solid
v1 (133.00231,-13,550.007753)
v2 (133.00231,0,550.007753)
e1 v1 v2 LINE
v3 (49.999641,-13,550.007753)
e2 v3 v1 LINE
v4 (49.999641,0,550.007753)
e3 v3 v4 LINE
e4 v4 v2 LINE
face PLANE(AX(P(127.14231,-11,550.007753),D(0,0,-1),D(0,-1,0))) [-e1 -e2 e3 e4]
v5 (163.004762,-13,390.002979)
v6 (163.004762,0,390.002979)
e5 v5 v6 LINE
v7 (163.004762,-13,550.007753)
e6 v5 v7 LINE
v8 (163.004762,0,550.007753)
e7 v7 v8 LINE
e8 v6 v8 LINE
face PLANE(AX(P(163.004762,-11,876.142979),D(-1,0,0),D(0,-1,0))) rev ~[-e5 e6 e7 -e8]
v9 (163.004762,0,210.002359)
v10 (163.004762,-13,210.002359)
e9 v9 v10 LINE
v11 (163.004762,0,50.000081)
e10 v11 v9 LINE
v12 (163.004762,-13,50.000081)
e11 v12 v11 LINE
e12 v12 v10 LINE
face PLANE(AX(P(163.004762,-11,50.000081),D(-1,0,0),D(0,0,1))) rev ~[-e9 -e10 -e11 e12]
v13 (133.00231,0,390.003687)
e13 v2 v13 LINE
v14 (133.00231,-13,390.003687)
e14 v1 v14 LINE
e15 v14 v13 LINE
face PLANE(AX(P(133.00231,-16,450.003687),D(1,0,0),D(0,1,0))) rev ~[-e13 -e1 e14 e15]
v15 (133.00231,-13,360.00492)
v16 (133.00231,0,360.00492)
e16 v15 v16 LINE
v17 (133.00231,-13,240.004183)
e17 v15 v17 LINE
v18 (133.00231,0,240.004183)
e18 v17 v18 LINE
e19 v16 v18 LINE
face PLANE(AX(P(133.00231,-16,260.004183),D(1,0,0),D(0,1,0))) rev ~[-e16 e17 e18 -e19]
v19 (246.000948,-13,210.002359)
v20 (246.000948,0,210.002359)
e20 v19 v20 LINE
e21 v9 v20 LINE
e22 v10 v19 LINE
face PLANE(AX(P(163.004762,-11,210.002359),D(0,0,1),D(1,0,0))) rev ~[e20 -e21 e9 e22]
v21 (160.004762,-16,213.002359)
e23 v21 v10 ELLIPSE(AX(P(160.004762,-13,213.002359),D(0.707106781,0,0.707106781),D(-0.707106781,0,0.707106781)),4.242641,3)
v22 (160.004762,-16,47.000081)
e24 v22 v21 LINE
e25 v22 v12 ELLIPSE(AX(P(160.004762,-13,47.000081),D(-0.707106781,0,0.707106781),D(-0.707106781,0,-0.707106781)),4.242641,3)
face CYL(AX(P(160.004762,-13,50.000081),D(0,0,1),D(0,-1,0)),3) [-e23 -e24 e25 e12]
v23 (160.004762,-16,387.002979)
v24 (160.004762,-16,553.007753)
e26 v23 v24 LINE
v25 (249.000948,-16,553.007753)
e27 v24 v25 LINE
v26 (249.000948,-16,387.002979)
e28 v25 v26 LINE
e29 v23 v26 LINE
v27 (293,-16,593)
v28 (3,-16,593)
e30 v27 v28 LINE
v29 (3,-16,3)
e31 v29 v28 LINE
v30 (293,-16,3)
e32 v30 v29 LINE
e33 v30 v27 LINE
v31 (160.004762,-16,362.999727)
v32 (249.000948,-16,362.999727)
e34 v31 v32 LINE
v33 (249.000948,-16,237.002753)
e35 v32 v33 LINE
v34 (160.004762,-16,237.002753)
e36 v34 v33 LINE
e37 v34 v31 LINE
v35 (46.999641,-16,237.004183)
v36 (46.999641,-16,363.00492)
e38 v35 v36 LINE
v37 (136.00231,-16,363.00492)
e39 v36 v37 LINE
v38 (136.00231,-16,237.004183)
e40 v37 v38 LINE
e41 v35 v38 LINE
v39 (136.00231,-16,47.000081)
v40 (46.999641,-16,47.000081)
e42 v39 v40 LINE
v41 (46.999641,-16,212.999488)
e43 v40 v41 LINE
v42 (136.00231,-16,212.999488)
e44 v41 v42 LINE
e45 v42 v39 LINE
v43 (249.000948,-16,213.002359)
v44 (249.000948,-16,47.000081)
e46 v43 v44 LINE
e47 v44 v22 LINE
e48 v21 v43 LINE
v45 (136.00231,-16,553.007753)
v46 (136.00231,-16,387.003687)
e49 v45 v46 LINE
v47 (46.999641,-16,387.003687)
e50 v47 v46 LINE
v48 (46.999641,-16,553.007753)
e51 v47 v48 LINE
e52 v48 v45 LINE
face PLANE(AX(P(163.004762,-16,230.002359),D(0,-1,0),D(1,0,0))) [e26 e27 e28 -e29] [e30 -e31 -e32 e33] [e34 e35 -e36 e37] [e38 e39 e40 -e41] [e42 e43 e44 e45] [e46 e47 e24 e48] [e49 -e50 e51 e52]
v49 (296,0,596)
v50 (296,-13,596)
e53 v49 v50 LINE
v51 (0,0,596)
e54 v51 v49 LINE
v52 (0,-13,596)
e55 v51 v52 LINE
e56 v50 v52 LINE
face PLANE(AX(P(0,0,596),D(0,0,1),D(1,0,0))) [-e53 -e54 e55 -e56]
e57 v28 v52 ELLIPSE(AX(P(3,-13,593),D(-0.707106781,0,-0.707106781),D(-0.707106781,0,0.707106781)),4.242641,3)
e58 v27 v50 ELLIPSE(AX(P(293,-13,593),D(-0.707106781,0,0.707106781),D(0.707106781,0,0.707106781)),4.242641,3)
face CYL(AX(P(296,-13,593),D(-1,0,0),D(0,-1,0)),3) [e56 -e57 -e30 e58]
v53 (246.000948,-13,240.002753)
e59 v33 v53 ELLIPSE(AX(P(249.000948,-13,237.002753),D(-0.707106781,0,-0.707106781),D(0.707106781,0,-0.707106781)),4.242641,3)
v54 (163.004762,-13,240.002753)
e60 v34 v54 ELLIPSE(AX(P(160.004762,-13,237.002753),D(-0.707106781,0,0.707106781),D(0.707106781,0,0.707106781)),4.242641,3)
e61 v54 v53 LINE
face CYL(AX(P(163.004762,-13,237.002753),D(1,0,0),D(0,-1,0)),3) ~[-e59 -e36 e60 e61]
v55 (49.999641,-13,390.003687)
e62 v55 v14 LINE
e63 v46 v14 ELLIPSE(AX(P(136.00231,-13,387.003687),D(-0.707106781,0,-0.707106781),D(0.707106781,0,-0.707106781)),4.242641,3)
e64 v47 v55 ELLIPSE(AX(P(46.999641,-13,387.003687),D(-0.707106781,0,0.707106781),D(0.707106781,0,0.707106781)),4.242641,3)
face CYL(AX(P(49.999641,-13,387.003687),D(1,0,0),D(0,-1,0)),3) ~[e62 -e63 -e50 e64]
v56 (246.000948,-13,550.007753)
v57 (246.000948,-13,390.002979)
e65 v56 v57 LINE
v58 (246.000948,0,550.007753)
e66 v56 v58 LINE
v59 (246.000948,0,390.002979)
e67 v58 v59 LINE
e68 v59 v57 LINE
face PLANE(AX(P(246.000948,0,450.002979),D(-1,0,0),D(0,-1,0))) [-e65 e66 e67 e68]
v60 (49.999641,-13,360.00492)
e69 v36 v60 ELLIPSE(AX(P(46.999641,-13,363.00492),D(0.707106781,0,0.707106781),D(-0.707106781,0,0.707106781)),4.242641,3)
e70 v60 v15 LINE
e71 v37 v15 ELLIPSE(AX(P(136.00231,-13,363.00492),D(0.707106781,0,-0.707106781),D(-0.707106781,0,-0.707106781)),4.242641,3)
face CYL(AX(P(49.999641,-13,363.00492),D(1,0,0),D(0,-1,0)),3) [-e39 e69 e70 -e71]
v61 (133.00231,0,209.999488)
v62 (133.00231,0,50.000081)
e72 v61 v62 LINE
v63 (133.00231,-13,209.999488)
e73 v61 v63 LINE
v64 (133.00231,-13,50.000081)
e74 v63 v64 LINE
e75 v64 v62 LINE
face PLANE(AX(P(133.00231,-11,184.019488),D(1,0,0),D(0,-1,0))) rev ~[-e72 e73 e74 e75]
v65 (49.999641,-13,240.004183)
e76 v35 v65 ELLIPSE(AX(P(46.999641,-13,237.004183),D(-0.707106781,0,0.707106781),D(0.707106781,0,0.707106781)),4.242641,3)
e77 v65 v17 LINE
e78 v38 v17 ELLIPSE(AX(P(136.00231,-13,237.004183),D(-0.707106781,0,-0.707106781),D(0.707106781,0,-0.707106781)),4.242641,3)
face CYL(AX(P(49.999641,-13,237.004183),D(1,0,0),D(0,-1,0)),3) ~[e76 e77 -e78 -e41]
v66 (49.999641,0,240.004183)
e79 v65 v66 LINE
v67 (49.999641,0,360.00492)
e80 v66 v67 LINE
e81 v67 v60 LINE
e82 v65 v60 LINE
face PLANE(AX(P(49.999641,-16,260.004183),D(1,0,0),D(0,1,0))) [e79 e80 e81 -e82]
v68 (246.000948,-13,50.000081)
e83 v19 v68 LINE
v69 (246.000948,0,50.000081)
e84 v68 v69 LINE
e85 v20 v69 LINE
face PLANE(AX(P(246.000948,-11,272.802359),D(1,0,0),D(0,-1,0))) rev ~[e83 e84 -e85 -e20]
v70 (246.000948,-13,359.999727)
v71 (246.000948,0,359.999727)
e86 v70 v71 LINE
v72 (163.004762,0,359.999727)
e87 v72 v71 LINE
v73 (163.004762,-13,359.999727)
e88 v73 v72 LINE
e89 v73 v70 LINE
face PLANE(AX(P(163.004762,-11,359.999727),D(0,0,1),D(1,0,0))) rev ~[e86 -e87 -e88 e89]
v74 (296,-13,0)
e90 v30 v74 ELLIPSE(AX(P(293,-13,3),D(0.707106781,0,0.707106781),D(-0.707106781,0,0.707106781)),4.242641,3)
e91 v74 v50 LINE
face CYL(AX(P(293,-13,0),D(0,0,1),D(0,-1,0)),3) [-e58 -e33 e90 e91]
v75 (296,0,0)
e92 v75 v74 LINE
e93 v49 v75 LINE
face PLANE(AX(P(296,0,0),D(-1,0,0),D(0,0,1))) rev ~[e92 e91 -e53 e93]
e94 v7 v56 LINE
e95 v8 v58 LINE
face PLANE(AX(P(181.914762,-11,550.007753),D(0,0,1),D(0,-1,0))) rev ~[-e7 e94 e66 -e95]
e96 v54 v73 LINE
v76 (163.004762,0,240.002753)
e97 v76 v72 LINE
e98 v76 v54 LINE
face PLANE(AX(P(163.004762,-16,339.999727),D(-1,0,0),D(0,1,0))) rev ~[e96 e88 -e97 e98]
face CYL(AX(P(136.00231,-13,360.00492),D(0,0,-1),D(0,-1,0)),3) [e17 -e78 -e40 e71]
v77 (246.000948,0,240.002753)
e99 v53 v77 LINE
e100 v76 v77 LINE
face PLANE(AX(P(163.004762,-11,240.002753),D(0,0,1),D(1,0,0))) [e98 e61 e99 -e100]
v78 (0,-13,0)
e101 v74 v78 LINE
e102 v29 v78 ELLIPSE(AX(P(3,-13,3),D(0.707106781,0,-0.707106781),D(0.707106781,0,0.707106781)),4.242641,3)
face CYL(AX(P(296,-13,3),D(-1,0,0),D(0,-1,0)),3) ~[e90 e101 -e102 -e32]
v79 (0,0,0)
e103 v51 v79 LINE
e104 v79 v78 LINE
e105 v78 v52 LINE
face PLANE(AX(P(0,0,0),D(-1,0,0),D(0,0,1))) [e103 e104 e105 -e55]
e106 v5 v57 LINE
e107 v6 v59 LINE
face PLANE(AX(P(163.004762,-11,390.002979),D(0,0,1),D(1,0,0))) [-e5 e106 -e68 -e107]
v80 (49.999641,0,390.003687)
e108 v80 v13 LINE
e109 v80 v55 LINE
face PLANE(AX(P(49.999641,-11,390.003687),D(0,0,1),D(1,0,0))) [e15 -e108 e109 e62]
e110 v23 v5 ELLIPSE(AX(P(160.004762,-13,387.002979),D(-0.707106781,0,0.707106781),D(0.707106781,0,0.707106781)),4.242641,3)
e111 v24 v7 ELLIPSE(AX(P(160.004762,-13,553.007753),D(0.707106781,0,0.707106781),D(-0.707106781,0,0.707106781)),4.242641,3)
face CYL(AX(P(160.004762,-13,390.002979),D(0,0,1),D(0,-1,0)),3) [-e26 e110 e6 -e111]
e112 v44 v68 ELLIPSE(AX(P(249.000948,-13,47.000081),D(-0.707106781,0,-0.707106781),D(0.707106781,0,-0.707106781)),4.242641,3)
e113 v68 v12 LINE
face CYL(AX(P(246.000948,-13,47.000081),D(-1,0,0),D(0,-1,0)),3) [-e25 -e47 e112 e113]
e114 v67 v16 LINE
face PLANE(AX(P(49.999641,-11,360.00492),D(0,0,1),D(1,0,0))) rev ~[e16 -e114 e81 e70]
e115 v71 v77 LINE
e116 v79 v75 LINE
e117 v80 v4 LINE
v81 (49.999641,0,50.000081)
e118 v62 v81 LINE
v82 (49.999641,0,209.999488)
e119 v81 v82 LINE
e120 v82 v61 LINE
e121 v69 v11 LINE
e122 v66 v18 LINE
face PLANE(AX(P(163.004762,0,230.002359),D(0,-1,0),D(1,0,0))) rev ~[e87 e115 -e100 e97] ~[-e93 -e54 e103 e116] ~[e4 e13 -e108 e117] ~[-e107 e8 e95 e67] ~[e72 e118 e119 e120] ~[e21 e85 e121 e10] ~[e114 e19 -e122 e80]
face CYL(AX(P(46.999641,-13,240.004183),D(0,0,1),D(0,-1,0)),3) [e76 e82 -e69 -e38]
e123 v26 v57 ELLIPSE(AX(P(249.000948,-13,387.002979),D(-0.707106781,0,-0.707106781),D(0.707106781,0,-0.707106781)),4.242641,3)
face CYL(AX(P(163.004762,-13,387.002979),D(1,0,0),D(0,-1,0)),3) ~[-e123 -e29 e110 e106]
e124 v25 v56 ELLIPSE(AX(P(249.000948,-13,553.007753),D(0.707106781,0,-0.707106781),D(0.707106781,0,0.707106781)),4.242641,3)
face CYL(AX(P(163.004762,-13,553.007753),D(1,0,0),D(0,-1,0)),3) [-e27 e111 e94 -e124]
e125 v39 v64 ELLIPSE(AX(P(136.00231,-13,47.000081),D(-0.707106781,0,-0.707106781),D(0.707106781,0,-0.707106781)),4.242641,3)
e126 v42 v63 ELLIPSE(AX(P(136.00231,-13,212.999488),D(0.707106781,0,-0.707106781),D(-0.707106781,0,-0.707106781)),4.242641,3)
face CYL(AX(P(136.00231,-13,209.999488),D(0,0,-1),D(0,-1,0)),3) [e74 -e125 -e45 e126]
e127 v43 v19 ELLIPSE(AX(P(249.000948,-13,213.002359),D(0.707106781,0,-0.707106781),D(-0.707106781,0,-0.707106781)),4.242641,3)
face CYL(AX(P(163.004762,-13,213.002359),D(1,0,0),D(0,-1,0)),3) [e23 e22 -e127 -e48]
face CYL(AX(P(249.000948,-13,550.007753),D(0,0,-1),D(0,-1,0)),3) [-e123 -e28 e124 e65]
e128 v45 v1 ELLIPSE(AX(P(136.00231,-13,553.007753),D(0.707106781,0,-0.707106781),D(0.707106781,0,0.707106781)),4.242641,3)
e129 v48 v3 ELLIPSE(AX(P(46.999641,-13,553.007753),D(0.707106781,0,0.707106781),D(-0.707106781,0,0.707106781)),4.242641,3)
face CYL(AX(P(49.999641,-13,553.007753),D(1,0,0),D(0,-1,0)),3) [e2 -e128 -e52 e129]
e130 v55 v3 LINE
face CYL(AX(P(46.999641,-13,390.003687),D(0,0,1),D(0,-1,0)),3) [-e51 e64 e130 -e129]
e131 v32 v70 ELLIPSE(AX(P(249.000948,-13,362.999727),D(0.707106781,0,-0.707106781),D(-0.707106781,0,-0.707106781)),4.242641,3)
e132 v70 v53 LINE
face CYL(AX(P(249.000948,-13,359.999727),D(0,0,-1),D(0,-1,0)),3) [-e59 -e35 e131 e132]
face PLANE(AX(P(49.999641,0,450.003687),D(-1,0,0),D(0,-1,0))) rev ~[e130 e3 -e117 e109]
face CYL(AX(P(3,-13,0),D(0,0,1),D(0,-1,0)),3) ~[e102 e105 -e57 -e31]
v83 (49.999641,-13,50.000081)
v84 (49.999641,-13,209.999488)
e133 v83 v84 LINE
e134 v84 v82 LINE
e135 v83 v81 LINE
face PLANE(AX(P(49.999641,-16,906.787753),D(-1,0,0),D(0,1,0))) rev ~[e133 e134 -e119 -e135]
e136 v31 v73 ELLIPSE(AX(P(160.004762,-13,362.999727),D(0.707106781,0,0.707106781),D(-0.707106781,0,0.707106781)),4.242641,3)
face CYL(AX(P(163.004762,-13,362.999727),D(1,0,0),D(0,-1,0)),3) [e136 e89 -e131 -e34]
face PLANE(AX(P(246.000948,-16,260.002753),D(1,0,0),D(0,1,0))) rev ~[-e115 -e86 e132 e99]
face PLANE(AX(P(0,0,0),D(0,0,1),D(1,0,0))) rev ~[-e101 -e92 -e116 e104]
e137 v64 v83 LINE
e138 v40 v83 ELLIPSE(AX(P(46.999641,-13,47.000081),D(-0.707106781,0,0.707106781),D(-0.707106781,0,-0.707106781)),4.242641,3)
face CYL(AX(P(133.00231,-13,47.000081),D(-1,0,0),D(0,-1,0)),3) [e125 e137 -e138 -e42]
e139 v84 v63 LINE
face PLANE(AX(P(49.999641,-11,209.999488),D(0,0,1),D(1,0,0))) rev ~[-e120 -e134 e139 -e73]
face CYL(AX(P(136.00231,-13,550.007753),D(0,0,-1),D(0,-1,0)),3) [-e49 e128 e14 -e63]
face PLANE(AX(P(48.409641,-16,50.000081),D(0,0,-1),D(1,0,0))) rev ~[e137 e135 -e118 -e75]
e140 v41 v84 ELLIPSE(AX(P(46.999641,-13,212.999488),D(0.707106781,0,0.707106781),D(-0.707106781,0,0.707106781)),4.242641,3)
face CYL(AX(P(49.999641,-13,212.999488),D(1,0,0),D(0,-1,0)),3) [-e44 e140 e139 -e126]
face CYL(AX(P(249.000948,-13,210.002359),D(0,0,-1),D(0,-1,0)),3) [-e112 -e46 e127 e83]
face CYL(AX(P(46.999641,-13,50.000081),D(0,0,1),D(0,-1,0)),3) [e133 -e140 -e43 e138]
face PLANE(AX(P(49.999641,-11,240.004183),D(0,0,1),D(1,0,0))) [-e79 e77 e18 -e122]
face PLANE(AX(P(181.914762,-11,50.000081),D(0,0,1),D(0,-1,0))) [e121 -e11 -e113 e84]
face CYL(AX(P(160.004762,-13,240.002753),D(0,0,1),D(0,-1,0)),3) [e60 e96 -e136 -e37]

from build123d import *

# Parameters (mm, degrees)
F0_W      = 28.8499742746
F0_H      = 37.8827601671
F1_DEPTH  = 16
F2_DEPTH  = 296
F3_DEPTH  = 996
F4_W      = 199.8313069344
F4_H      = 801.1276721954
F5_DEPTH  = 5
F6_DEPTH  = 39.21
F7_DEPTH  = 2.24
F8_DEPTH  = 55.66
F9_DEPTH  = 1.59
F10_W     = 54.77245152
F10_H     = 895.9976721954
F11_DEPTH = 5
F12_DEPTH = 5.86
F13_DEPTH = 18.91
F14_W     = 83.0026693535
F14_H     = 34.9487662315
F14_H_2   = 55.274695158
F15_W     = 82.9961860609
F15_H     = 44.8832511902
F15_H_2   = 52.5203943253
F16_DEPTH = 5
F17_DEPTH = 300
F18_DEPTH = 300
F19_DEPTH = 324.79
F20_DEPTH = 324.79
F21_DEPTH = 250
F22_DEPTH = 250
F23_DEPTH = 100
F24_DEPTH = 100
F25_DEPTH = 50
F26_DEPTH = 50
F27_DEPTH = 134.02
F28_DEPTH = 100
F29_DEPTH = 100
F30_DEPTH = 100
F31_DEPTH = 50
F32_DEPTH = 54.95
F33_DEPTH = 50
F34_DEPTH = 109.29
F35_DEPTH = 14.88
F36_DEPTH = 230.15
F37_DEPTH = 230.15
F38_DEPTH = 22.52
F39_DEPTH = 77.2
F40_DEPTH = 77.2
F41_DEPTH = 11
F42_DEPTH = 100
F43_DEPTH = 100
F44_DEPTH = 195.99
F45_DEPTH = 195.99
F46_DEPTH = 295.99
F47_DEPTH = 295.99
F48_DEPTH = 100
F49_DEPTH = 104.01
F50_DEPTH = 20
F51_DEPTH = 20
F52_DEPTH = 20
F53_DEPTH = 80
F54_DEPTH = 80
F55_DEPTH = 20
F56_DEPTH = 20
F57_DEPTH = 20
F58_DEPTH = 20
F59_R     = 3


with BuildPart() as f1:
    # F0 (on Front) → F1 (new body)
    with BuildSketch(Plane.XZ):
        with Locations((14.4249871373, 18.9413800836)):
            Rectangle(F0_W, F0_H)
    extrude(amount=F1_DEPTH)

    # F2 (add): a face of the model
    f2_faces = [f1.faces().sort_by_distance(p)[0] for p in [
        (0, -8, 18.9413800836),
    ]]
    extrude(f2_faces, amount=-F2_DEPTH)

    # F3 (add): a face of the model
    f3_faces = [f1.faces().sort_by_distance(p)[0] for p in [
        (148, -8, 0),
    ]]
    extrude(f3_faces, amount=-F3_DEPTH)

    # F4 (on face) → F5 (cut)
    with BuildSketch(Plane.XZ.offset(16)):
        with Locations((148.3252942562, 506.2239170074)):
            Rectangle(F4_W, F4_H)
    extrude(amount=-F5_DEPTH, mode=Mode.SUBTRACT)

    # F6 (cut): a face of the model
    f6_faces = [f1.faces().sort_by_distance(p)[0] for p in [
        (148.3252942562, -13.5, 906.7877531052),
    ]]
    extrude(f6_faces, amount=-F6_DEPTH, mode=Mode.SUBTRACT)

    # F7 (add): a face of the model
    f7_faces = [f1.faces().sort_by_distance(p)[0] for p in [
        (248.2409477234, -13.5, 525.8289170074),
    ]]
    extrude(f7_faces, amount=F7_DEPTH)

    # F8 (cut): a face of the model
    f8_faces = [f1.faces().sort_by_distance(p)[0] for p in [
        (147.2052942562, -13.5, 105.6600809097),
    ]]
    extrude(f8_faces, amount=-F8_DEPTH, mode=Mode.SUBTRACT)

    # F9 (add): a face of the model
    f9_faces = [f1.faces().sort_by_distance(p)[0] for p in [
        (48.409640789, -13.5, 497.9989170074),
    ]]
    extrude(f9_faces, amount=F9_DEPTH)

    # F10 (on face) → F11 (join)
    with BuildSketch(Plane.XZ.offset(11)):
        with Locations((154.5285359025, 497.9989170074)):
            Rectangle(F10_W, F10_H)
    extrude(amount=F11_DEPTH)

    # F12 (cut): a face of the model
    f12_faces = [f1.faces().sort_by_distance(p)[0] for p in [
        (127.1423101425, -13.5, 497.9989170074),
    ]]
    extrude(f12_faces, amount=-F12_DEPTH, mode=Mode.SUBTRACT)

    # F13 (cut): a face of the model
    f13_faces = [f1.faces().sort_by_distance(p)[0] for p in [
        (181.9147616625, -13.5, 497.9989170074),
    ]]
    extrude(f13_faces, amount=-F13_DEPTH, mode=Mode.SUBTRACT)

    # F14 (on face) + F15 (on face) → F16 (join)
    with BuildSketch(Plane.XZ.offset(11)):
        with Locations((91.5009754658, 853.3093035221)):
            Rectangle(F14_W, F14_H)
        with Locations((91.5009754658, 511.6568356752)):
            Rectangle(F14_W, F14_H_2)
    with BuildSketch(Plane.XZ.offset(11)):
        with Locations((204.5028546929, 853.7013530731)):
            Rectangle(F15_W, F15_H)
        with Locations((204.5028546929, 576.5425562859)):
            Rectangle(F15_W, F15_H_2)
    extrude(amount=F16_DEPTH)

    # F17 (add): faces of the model
    f17_faces = [f1.faces().sort_by_distance(p)[0] for p in [
        (204.5028546929, -13.5, 550.2823591232),
        (91.5009754658, -13.5, 484.0194880962),
    ]]
    extrude(f17_faces, amount=F17_DEPTH)

    # F18 (cut): faces of the model
    f18_faces = [f1.faces().sort_by_distance(p)[0] for p in [
        (91.5009754658, -13.5, 539.2941832542),
        (204.5028546929, -13.5, 602.8027534485),
    ]]
    extrude(f18_faces, amount=-F18_DEPTH, mode=Mode.SUBTRACT)

    # F19 (add): a face of the model
    f19_faces = [f1.faces().sort_by_distance(p)[0] for p in [
        (91.5009754658, -13.5, 835.8349204063),
    ]]
    extrude(f19_faces, amount=F19_DEPTH)

    # F20 (cut): a face of the model
    f20_faces = [f1.faces().sort_by_distance(p)[0] for p in [
        (91.5009754658, -13.5, 870.7836866379),
    ]]
    extrude(f20_faces, amount=-F20_DEPTH, mode=Mode.SUBTRACT)

    # F21 (add): a face of the model
    f21_faces = [f1.faces().sort_by_distance(p)[0] for p in [
        (91.5009754658, -13.5, 239.2941832542),
    ]]
    extrude(f21_faces, amount=F21_DEPTH)

    # F22 (cut): a face of the model
    f22_faces = [f1.faces().sort_by_distance(p)[0] for p in [
        (91.5009754658, -13.5, 184.0194880962),
    ]]
    extrude(f22_faces, amount=-F22_DEPTH, mode=Mode.SUBTRACT)

    # F23 (add): a face of the model
    f23_faces = [f1.faces().sort_by_distance(p)[0] for p in [
        (91.5009754658, -13.5, 545.9936866379),
    ]]
    extrude(f23_faces, amount=F23_DEPTH)

    # F24 (cut): a face of the model
    f24_faces = [f1.faces().sort_by_distance(p)[0] for p in [
        (91.5009754658, -13.5, 511.0449204063),
    ]]
    extrude(f24_faces, amount=-F24_DEPTH, mode=Mode.SUBTRACT)

    # F25 (add): a face of the model
    f25_faces = [f1.faces().sort_by_distance(p)[0] for p in [
        (91.5009754658, -13.5, 645.9936866379),
    ]]
    extrude(f25_faces, amount=F25_DEPTH)

    # F26 (cut): a face of the model
    f26_faces = [f1.faces().sort_by_distance(p)[0] for p in [
        (91.5009754658, -13.5, 611.0449204063),
    ]]
    extrude(f26_faces, amount=-F26_DEPTH, mode=Mode.SUBTRACT)

    # F27 (add): a face of the model
    f27_faces = [f1.faces().sort_by_distance(p)[0] for p in [
        (91.5009754658, -13.5, 434.0194880962),
    ]]
    extrude(f27_faces, amount=F27_DEPTH)

    # F28 (cut): a face of the model
    f28_faces = [f1.faces().sort_by_distance(p)[0] for p in [
        (91.5009754658, -13.5, 299.9994880962),
    ]]
    extrude(f28_faces, amount=-F28_DEPTH, mode=Mode.SUBTRACT)

    # F29 (add): a face of the model
    f29_faces = [f1.faces().sort_by_distance(p)[0] for p in [
        (91.5009754658, -13.5, 661.0449204063),
    ]]
    extrude(f29_faces, amount=F29_DEPTH)

    # F30 (cut): a face of the model
    f30_faces = [f1.faces().sort_by_distance(p)[0] for p in [
        (91.5009754658, -13.5, 695.9936866379),
    ]]
    extrude(f30_faces, amount=-F30_DEPTH, mode=Mode.SUBTRACT)

    # F31 (add): a face of the model
    f31_faces = [f1.faces().sort_by_distance(p)[0] for p in [
        (91.5009754658, -13.5, 595.9936866379),
    ]]
    extrude(f31_faces, amount=F31_DEPTH)

    # F32 (cut): a face of the model
    f32_faces = [f1.faces().sort_by_distance(p)[0] for p in [
        (91.5009754658, -13.5, 561.0449204063),
    ]]
    extrude(f32_faces, amount=-F32_DEPTH, mode=Mode.SUBTRACT)

    # F33 (add): a face of the model
    f33_faces = [f1.faces().sort_by_distance(p)[0] for p in [
        (91.5009754658, -13.5, 399.9994880962),
    ]]
    extrude(f33_faces, amount=F33_DEPTH)

    # F34 (cut): a face of the model
    f34_faces = [f1.faces().sort_by_distance(p)[0] for p in [
        (91.5009754658, -13.5, 489.2941832542),
    ]]
    extrude(f34_faces, amount=-F34_DEPTH, mode=Mode.SUBTRACT)

    # F35 (cut): a face of the model
    f35_faces = [f1.faces().sort_by_distance(p)[0] for p in [
        (204.5028546929, -13.5, 831.259727478),
    ]]
    extrude(f35_faces, amount=-F35_DEPTH, mode=Mode.SUBTRACT)

    # F36 (add): a face of the model
    f36_faces = [f1.faces().sort_by_distance(p)[0] for p in [
        (204.5028546929, -13.5, 846.139727478),
    ]]
    extrude(f36_faces, amount=F36_DEPTH)

    # F37 (cut): a face of the model
    f37_faces = [f1.faces().sort_by_distance(p)[0] for p in [
        (204.5028546929, -13.5, 876.1429786682),
    ]]
    extrude(f37_faces, amount=-F37_DEPTH, mode=Mode.SUBTRACT)

    # F38 (cut): a face of the model
    f38_faces = [f1.faces().sort_by_distance(p)[0] for p in [
        (204.5028546929, -13.5, 250.2823591232),
    ]]
    extrude(f38_faces, amount=-F38_DEPTH, mode=Mode.SUBTRACT)

    # F39 (add): a face of the model
    f39_faces = [f1.faces().sort_by_distance(p)[0] for p in [
        (204.5028546929, -13.5, 302.8027534485),
    ]]
    extrude(f39_faces, amount=F39_DEPTH)

    # F40 (cut): a face of the model
    f40_faces = [f1.faces().sort_by_distance(p)[0] for p in [
        (204.5028546929, -13.5, 272.8023591232),
    ]]
    extrude(f40_faces, amount=-F40_DEPTH, mode=Mode.SUBTRACT)

    # F41 (cut): faces of the model
    f41_faces = [f1.faces().sort_by_distance(p)[0] for p in [
        (91.5009754658, -11, 795.9957198715),
        (204.5028546929, -11, 795.9953658867),
        (204.5028546929, -11, 497.9962404633),
        (91.5009754658, -11, 497.9995518303),
        (91.5009754658, -11, 199.999784503),
        (204.5028546929, -11, 200.0012200165),
    ]]
    extrude(f41_faces, amount=-F41_DEPTH, mode=Mode.SUBTRACT)

    # F42 (add): faces of the model
    f42_faces = [f1.faces().sort_by_distance(p)[0] for p in [
        (91.5009754658, -8, 349.9994880962),
        (204.5028546929, -8, 350.0023591232),
    ]]
    extrude(f42_faces, amount=F42_DEPTH)

    # F43 (cut): faces of the model
    f43_faces = [f1.faces().sort_by_distance(p)[0] for p in [
        (91.5009754658, -8, 380.0041832542),
        (204.5028546929, -8, 380.0027534485),
    ]]
    extrude(f43_faces, amount=-F43_DEPTH, mode=Mode.SUBTRACT)

    # F44 (add): faces of the model
    f44_faces = [f1.faces().sort_by_distance(p)[0] for p in [
        (91.5009754658, -8, 615.9949204063),
        (204.5028546929, -8, 615.989727478),
    ]]
    extrude(f44_faces, amount=F44_DEPTH)

    # F45 (cut): faces of the model
    f45_faces = [f1.faces().sort_by_distance(p)[0] for p in [
        (91.5009754658, -8, 645.9936866379),
        (204.5028546929, -8, 645.9929786682),
    ]]
    extrude(f45_faces, amount=-F45_DEPTH, mode=Mode.SUBTRACT)

    # F46 (add): faces of the model
    f46_faces = [f1.faces().sort_by_distance(p)[0] for p in [
        (91.5009754658, -8, 945.9977531052),
        (204.5028546929, -8, 945.9977531052),
    ]]
    extrude(f46_faces, amount=F46_DEPTH)

    # F47 (cut): a face of the model
    f47_faces = [f1.faces().sort_by_distance(p)[0] for p in [
        (148, -8, 996),
    ]]
    extrude(f47_faces, amount=-F47_DEPTH, mode=Mode.SUBTRACT)

    # F48 (add): faces of the model
    f48_faces = [f1.faces().sort_by_distance(p)[0] for p in [
        (204.5028546929, -8, 650.0077531052),
        (91.5009754658, -8, 650.0077531052),
    ]]
    extrude(f48_faces, amount=F48_DEPTH)

    # F49 (cut): a face of the model
    f49_faces = [f1.faces().sort_by_distance(p)[0] for p in [
        (148, -8, 700.01),
    ]]
    extrude(f49_faces, amount=-F49_DEPTH, mode=Mode.SUBTRACT)

    # F50 (add): a face of the model
    f50_faces = [f1.faces().sort_by_distance(p)[0] for p in [
        (91.5009754658, -8, 249.9994880962),
    ]]
    extrude(f50_faces, amount=F50_DEPTH)

    # F51 (add): a face of the model
    f51_faces = [f1.faces().sort_by_distance(p)[0] for p in [
        (204.5028546929, -8, 250.0023591232),
    ]]
    extrude(f51_faces, amount=F51_DEPTH)

    # F52 (cut): faces of the model
    f52_faces = [f1.faces().sort_by_distance(p)[0] for p in [
        (91.5009754658, -8, 280.0041832542),
        (204.5028546929, -8, 280.0027534485),
    ]]
    extrude(f52_faces, amount=-F52_DEPTH, mode=Mode.SUBTRACT)

    # F53 (add): faces of the model
    f53_faces = [f1.faces().sort_by_distance(p)[0] for p in [
        (204.5028546929, -8, 419.999727478),
        (91.5009754658, -8, 420.0049204063),
    ]]
    extrude(f53_faces, amount=F53_DEPTH)

    # F54 (cut): faces of the model
    f54_faces = [f1.faces().sort_by_distance(p)[0] for p in [
        (91.5009754658, -8, 450.0036866379),
        (204.5028546929, -8, 450.0029786682),
    ]]
    extrude(f54_faces, amount=-F54_DEPTH, mode=Mode.SUBTRACT)

    # F55 (add): faces of the model
    f55_faces = [f1.faces().sort_by_distance(p)[0] for p in [
        (204.5028546929, -8, 370.0029786682),
        (91.5009754658, -8, 370.0036866379),
    ]]
    extrude(f55_faces, amount=F55_DEPTH)

    # F56 (cut): faces of the model
    f56_faces = [f1.faces().sort_by_distance(p)[0] for p in [
        (91.5009754658, -8, 340.0049204063),
        (204.5028546929, -8, 339.999727478),
    ]]
    extrude(f56_faces, amount=-F56_DEPTH, mode=Mode.SUBTRACT)

    # F57 (add): faces of the model
    f57_faces = [f1.faces().sort_by_distance(p)[0] for p in [
        (204.5028546929, -8, 230.0023591232),
        (91.5009754658, -8, 229.9994880962),
    ]]
    extrude(f57_faces, amount=F57_DEPTH)

    # F58 (cut): faces of the model
    f58_faces = [f1.faces().sort_by_distance(p)[0] for p in [
        (204.5028546929, -8, 260.0027534485),
        (91.5009754658, -8, 260.0041832542),
    ]]
    extrude(f58_faces, amount=-F58_DEPTH, mode=Mode.SUBTRACT)

    # F59
    f59_edges = [f1.edges().sort_by_distance(p)[0] for p in [
        (0, -16, 298),
        (148, -16, 0),
        (296, -16, 298),
        (148, -16, 596),
        (133.00231, -16, 129.999785),
        (91.500975, -16, 50.000081),
        (49.999641, -16, 129.999785),
        (91.500975, -16, 209.999488),
        (246.000948, -16, 130.00122),
        (204.502855, -16, 50.000081),
        (163.004762, -16, 130.00122),
        (204.502855, -16, 210.002359),
        (246.000948, -16, 300.00124),
        (204.502855, -16, 240.002753),
        (163.004762, -16, 300.00124),
        (204.502855, -16, 359.999727),
        (133.00231, -16, 300.004552),
        (91.500975, -16, 240.004183),
        (49.999641, -16, 300.004552),
        (91.500975, -16, 360.00492),
        (49.999641, -16, 470.00572),
        (91.500975, -16, 550.007753),
        (133.00231, -16, 470.00572),
        (91.500975, -16, 390.003687),
        (163.004762, -16, 470.005366),
        (204.502855, -16, 550.007753),
        (246.000948, -16, 470.005366),
        (204.502855, -16, 390.002979),
    ]]
    fillet(f59_edges, radius=F59_R)


solid = f1.part
